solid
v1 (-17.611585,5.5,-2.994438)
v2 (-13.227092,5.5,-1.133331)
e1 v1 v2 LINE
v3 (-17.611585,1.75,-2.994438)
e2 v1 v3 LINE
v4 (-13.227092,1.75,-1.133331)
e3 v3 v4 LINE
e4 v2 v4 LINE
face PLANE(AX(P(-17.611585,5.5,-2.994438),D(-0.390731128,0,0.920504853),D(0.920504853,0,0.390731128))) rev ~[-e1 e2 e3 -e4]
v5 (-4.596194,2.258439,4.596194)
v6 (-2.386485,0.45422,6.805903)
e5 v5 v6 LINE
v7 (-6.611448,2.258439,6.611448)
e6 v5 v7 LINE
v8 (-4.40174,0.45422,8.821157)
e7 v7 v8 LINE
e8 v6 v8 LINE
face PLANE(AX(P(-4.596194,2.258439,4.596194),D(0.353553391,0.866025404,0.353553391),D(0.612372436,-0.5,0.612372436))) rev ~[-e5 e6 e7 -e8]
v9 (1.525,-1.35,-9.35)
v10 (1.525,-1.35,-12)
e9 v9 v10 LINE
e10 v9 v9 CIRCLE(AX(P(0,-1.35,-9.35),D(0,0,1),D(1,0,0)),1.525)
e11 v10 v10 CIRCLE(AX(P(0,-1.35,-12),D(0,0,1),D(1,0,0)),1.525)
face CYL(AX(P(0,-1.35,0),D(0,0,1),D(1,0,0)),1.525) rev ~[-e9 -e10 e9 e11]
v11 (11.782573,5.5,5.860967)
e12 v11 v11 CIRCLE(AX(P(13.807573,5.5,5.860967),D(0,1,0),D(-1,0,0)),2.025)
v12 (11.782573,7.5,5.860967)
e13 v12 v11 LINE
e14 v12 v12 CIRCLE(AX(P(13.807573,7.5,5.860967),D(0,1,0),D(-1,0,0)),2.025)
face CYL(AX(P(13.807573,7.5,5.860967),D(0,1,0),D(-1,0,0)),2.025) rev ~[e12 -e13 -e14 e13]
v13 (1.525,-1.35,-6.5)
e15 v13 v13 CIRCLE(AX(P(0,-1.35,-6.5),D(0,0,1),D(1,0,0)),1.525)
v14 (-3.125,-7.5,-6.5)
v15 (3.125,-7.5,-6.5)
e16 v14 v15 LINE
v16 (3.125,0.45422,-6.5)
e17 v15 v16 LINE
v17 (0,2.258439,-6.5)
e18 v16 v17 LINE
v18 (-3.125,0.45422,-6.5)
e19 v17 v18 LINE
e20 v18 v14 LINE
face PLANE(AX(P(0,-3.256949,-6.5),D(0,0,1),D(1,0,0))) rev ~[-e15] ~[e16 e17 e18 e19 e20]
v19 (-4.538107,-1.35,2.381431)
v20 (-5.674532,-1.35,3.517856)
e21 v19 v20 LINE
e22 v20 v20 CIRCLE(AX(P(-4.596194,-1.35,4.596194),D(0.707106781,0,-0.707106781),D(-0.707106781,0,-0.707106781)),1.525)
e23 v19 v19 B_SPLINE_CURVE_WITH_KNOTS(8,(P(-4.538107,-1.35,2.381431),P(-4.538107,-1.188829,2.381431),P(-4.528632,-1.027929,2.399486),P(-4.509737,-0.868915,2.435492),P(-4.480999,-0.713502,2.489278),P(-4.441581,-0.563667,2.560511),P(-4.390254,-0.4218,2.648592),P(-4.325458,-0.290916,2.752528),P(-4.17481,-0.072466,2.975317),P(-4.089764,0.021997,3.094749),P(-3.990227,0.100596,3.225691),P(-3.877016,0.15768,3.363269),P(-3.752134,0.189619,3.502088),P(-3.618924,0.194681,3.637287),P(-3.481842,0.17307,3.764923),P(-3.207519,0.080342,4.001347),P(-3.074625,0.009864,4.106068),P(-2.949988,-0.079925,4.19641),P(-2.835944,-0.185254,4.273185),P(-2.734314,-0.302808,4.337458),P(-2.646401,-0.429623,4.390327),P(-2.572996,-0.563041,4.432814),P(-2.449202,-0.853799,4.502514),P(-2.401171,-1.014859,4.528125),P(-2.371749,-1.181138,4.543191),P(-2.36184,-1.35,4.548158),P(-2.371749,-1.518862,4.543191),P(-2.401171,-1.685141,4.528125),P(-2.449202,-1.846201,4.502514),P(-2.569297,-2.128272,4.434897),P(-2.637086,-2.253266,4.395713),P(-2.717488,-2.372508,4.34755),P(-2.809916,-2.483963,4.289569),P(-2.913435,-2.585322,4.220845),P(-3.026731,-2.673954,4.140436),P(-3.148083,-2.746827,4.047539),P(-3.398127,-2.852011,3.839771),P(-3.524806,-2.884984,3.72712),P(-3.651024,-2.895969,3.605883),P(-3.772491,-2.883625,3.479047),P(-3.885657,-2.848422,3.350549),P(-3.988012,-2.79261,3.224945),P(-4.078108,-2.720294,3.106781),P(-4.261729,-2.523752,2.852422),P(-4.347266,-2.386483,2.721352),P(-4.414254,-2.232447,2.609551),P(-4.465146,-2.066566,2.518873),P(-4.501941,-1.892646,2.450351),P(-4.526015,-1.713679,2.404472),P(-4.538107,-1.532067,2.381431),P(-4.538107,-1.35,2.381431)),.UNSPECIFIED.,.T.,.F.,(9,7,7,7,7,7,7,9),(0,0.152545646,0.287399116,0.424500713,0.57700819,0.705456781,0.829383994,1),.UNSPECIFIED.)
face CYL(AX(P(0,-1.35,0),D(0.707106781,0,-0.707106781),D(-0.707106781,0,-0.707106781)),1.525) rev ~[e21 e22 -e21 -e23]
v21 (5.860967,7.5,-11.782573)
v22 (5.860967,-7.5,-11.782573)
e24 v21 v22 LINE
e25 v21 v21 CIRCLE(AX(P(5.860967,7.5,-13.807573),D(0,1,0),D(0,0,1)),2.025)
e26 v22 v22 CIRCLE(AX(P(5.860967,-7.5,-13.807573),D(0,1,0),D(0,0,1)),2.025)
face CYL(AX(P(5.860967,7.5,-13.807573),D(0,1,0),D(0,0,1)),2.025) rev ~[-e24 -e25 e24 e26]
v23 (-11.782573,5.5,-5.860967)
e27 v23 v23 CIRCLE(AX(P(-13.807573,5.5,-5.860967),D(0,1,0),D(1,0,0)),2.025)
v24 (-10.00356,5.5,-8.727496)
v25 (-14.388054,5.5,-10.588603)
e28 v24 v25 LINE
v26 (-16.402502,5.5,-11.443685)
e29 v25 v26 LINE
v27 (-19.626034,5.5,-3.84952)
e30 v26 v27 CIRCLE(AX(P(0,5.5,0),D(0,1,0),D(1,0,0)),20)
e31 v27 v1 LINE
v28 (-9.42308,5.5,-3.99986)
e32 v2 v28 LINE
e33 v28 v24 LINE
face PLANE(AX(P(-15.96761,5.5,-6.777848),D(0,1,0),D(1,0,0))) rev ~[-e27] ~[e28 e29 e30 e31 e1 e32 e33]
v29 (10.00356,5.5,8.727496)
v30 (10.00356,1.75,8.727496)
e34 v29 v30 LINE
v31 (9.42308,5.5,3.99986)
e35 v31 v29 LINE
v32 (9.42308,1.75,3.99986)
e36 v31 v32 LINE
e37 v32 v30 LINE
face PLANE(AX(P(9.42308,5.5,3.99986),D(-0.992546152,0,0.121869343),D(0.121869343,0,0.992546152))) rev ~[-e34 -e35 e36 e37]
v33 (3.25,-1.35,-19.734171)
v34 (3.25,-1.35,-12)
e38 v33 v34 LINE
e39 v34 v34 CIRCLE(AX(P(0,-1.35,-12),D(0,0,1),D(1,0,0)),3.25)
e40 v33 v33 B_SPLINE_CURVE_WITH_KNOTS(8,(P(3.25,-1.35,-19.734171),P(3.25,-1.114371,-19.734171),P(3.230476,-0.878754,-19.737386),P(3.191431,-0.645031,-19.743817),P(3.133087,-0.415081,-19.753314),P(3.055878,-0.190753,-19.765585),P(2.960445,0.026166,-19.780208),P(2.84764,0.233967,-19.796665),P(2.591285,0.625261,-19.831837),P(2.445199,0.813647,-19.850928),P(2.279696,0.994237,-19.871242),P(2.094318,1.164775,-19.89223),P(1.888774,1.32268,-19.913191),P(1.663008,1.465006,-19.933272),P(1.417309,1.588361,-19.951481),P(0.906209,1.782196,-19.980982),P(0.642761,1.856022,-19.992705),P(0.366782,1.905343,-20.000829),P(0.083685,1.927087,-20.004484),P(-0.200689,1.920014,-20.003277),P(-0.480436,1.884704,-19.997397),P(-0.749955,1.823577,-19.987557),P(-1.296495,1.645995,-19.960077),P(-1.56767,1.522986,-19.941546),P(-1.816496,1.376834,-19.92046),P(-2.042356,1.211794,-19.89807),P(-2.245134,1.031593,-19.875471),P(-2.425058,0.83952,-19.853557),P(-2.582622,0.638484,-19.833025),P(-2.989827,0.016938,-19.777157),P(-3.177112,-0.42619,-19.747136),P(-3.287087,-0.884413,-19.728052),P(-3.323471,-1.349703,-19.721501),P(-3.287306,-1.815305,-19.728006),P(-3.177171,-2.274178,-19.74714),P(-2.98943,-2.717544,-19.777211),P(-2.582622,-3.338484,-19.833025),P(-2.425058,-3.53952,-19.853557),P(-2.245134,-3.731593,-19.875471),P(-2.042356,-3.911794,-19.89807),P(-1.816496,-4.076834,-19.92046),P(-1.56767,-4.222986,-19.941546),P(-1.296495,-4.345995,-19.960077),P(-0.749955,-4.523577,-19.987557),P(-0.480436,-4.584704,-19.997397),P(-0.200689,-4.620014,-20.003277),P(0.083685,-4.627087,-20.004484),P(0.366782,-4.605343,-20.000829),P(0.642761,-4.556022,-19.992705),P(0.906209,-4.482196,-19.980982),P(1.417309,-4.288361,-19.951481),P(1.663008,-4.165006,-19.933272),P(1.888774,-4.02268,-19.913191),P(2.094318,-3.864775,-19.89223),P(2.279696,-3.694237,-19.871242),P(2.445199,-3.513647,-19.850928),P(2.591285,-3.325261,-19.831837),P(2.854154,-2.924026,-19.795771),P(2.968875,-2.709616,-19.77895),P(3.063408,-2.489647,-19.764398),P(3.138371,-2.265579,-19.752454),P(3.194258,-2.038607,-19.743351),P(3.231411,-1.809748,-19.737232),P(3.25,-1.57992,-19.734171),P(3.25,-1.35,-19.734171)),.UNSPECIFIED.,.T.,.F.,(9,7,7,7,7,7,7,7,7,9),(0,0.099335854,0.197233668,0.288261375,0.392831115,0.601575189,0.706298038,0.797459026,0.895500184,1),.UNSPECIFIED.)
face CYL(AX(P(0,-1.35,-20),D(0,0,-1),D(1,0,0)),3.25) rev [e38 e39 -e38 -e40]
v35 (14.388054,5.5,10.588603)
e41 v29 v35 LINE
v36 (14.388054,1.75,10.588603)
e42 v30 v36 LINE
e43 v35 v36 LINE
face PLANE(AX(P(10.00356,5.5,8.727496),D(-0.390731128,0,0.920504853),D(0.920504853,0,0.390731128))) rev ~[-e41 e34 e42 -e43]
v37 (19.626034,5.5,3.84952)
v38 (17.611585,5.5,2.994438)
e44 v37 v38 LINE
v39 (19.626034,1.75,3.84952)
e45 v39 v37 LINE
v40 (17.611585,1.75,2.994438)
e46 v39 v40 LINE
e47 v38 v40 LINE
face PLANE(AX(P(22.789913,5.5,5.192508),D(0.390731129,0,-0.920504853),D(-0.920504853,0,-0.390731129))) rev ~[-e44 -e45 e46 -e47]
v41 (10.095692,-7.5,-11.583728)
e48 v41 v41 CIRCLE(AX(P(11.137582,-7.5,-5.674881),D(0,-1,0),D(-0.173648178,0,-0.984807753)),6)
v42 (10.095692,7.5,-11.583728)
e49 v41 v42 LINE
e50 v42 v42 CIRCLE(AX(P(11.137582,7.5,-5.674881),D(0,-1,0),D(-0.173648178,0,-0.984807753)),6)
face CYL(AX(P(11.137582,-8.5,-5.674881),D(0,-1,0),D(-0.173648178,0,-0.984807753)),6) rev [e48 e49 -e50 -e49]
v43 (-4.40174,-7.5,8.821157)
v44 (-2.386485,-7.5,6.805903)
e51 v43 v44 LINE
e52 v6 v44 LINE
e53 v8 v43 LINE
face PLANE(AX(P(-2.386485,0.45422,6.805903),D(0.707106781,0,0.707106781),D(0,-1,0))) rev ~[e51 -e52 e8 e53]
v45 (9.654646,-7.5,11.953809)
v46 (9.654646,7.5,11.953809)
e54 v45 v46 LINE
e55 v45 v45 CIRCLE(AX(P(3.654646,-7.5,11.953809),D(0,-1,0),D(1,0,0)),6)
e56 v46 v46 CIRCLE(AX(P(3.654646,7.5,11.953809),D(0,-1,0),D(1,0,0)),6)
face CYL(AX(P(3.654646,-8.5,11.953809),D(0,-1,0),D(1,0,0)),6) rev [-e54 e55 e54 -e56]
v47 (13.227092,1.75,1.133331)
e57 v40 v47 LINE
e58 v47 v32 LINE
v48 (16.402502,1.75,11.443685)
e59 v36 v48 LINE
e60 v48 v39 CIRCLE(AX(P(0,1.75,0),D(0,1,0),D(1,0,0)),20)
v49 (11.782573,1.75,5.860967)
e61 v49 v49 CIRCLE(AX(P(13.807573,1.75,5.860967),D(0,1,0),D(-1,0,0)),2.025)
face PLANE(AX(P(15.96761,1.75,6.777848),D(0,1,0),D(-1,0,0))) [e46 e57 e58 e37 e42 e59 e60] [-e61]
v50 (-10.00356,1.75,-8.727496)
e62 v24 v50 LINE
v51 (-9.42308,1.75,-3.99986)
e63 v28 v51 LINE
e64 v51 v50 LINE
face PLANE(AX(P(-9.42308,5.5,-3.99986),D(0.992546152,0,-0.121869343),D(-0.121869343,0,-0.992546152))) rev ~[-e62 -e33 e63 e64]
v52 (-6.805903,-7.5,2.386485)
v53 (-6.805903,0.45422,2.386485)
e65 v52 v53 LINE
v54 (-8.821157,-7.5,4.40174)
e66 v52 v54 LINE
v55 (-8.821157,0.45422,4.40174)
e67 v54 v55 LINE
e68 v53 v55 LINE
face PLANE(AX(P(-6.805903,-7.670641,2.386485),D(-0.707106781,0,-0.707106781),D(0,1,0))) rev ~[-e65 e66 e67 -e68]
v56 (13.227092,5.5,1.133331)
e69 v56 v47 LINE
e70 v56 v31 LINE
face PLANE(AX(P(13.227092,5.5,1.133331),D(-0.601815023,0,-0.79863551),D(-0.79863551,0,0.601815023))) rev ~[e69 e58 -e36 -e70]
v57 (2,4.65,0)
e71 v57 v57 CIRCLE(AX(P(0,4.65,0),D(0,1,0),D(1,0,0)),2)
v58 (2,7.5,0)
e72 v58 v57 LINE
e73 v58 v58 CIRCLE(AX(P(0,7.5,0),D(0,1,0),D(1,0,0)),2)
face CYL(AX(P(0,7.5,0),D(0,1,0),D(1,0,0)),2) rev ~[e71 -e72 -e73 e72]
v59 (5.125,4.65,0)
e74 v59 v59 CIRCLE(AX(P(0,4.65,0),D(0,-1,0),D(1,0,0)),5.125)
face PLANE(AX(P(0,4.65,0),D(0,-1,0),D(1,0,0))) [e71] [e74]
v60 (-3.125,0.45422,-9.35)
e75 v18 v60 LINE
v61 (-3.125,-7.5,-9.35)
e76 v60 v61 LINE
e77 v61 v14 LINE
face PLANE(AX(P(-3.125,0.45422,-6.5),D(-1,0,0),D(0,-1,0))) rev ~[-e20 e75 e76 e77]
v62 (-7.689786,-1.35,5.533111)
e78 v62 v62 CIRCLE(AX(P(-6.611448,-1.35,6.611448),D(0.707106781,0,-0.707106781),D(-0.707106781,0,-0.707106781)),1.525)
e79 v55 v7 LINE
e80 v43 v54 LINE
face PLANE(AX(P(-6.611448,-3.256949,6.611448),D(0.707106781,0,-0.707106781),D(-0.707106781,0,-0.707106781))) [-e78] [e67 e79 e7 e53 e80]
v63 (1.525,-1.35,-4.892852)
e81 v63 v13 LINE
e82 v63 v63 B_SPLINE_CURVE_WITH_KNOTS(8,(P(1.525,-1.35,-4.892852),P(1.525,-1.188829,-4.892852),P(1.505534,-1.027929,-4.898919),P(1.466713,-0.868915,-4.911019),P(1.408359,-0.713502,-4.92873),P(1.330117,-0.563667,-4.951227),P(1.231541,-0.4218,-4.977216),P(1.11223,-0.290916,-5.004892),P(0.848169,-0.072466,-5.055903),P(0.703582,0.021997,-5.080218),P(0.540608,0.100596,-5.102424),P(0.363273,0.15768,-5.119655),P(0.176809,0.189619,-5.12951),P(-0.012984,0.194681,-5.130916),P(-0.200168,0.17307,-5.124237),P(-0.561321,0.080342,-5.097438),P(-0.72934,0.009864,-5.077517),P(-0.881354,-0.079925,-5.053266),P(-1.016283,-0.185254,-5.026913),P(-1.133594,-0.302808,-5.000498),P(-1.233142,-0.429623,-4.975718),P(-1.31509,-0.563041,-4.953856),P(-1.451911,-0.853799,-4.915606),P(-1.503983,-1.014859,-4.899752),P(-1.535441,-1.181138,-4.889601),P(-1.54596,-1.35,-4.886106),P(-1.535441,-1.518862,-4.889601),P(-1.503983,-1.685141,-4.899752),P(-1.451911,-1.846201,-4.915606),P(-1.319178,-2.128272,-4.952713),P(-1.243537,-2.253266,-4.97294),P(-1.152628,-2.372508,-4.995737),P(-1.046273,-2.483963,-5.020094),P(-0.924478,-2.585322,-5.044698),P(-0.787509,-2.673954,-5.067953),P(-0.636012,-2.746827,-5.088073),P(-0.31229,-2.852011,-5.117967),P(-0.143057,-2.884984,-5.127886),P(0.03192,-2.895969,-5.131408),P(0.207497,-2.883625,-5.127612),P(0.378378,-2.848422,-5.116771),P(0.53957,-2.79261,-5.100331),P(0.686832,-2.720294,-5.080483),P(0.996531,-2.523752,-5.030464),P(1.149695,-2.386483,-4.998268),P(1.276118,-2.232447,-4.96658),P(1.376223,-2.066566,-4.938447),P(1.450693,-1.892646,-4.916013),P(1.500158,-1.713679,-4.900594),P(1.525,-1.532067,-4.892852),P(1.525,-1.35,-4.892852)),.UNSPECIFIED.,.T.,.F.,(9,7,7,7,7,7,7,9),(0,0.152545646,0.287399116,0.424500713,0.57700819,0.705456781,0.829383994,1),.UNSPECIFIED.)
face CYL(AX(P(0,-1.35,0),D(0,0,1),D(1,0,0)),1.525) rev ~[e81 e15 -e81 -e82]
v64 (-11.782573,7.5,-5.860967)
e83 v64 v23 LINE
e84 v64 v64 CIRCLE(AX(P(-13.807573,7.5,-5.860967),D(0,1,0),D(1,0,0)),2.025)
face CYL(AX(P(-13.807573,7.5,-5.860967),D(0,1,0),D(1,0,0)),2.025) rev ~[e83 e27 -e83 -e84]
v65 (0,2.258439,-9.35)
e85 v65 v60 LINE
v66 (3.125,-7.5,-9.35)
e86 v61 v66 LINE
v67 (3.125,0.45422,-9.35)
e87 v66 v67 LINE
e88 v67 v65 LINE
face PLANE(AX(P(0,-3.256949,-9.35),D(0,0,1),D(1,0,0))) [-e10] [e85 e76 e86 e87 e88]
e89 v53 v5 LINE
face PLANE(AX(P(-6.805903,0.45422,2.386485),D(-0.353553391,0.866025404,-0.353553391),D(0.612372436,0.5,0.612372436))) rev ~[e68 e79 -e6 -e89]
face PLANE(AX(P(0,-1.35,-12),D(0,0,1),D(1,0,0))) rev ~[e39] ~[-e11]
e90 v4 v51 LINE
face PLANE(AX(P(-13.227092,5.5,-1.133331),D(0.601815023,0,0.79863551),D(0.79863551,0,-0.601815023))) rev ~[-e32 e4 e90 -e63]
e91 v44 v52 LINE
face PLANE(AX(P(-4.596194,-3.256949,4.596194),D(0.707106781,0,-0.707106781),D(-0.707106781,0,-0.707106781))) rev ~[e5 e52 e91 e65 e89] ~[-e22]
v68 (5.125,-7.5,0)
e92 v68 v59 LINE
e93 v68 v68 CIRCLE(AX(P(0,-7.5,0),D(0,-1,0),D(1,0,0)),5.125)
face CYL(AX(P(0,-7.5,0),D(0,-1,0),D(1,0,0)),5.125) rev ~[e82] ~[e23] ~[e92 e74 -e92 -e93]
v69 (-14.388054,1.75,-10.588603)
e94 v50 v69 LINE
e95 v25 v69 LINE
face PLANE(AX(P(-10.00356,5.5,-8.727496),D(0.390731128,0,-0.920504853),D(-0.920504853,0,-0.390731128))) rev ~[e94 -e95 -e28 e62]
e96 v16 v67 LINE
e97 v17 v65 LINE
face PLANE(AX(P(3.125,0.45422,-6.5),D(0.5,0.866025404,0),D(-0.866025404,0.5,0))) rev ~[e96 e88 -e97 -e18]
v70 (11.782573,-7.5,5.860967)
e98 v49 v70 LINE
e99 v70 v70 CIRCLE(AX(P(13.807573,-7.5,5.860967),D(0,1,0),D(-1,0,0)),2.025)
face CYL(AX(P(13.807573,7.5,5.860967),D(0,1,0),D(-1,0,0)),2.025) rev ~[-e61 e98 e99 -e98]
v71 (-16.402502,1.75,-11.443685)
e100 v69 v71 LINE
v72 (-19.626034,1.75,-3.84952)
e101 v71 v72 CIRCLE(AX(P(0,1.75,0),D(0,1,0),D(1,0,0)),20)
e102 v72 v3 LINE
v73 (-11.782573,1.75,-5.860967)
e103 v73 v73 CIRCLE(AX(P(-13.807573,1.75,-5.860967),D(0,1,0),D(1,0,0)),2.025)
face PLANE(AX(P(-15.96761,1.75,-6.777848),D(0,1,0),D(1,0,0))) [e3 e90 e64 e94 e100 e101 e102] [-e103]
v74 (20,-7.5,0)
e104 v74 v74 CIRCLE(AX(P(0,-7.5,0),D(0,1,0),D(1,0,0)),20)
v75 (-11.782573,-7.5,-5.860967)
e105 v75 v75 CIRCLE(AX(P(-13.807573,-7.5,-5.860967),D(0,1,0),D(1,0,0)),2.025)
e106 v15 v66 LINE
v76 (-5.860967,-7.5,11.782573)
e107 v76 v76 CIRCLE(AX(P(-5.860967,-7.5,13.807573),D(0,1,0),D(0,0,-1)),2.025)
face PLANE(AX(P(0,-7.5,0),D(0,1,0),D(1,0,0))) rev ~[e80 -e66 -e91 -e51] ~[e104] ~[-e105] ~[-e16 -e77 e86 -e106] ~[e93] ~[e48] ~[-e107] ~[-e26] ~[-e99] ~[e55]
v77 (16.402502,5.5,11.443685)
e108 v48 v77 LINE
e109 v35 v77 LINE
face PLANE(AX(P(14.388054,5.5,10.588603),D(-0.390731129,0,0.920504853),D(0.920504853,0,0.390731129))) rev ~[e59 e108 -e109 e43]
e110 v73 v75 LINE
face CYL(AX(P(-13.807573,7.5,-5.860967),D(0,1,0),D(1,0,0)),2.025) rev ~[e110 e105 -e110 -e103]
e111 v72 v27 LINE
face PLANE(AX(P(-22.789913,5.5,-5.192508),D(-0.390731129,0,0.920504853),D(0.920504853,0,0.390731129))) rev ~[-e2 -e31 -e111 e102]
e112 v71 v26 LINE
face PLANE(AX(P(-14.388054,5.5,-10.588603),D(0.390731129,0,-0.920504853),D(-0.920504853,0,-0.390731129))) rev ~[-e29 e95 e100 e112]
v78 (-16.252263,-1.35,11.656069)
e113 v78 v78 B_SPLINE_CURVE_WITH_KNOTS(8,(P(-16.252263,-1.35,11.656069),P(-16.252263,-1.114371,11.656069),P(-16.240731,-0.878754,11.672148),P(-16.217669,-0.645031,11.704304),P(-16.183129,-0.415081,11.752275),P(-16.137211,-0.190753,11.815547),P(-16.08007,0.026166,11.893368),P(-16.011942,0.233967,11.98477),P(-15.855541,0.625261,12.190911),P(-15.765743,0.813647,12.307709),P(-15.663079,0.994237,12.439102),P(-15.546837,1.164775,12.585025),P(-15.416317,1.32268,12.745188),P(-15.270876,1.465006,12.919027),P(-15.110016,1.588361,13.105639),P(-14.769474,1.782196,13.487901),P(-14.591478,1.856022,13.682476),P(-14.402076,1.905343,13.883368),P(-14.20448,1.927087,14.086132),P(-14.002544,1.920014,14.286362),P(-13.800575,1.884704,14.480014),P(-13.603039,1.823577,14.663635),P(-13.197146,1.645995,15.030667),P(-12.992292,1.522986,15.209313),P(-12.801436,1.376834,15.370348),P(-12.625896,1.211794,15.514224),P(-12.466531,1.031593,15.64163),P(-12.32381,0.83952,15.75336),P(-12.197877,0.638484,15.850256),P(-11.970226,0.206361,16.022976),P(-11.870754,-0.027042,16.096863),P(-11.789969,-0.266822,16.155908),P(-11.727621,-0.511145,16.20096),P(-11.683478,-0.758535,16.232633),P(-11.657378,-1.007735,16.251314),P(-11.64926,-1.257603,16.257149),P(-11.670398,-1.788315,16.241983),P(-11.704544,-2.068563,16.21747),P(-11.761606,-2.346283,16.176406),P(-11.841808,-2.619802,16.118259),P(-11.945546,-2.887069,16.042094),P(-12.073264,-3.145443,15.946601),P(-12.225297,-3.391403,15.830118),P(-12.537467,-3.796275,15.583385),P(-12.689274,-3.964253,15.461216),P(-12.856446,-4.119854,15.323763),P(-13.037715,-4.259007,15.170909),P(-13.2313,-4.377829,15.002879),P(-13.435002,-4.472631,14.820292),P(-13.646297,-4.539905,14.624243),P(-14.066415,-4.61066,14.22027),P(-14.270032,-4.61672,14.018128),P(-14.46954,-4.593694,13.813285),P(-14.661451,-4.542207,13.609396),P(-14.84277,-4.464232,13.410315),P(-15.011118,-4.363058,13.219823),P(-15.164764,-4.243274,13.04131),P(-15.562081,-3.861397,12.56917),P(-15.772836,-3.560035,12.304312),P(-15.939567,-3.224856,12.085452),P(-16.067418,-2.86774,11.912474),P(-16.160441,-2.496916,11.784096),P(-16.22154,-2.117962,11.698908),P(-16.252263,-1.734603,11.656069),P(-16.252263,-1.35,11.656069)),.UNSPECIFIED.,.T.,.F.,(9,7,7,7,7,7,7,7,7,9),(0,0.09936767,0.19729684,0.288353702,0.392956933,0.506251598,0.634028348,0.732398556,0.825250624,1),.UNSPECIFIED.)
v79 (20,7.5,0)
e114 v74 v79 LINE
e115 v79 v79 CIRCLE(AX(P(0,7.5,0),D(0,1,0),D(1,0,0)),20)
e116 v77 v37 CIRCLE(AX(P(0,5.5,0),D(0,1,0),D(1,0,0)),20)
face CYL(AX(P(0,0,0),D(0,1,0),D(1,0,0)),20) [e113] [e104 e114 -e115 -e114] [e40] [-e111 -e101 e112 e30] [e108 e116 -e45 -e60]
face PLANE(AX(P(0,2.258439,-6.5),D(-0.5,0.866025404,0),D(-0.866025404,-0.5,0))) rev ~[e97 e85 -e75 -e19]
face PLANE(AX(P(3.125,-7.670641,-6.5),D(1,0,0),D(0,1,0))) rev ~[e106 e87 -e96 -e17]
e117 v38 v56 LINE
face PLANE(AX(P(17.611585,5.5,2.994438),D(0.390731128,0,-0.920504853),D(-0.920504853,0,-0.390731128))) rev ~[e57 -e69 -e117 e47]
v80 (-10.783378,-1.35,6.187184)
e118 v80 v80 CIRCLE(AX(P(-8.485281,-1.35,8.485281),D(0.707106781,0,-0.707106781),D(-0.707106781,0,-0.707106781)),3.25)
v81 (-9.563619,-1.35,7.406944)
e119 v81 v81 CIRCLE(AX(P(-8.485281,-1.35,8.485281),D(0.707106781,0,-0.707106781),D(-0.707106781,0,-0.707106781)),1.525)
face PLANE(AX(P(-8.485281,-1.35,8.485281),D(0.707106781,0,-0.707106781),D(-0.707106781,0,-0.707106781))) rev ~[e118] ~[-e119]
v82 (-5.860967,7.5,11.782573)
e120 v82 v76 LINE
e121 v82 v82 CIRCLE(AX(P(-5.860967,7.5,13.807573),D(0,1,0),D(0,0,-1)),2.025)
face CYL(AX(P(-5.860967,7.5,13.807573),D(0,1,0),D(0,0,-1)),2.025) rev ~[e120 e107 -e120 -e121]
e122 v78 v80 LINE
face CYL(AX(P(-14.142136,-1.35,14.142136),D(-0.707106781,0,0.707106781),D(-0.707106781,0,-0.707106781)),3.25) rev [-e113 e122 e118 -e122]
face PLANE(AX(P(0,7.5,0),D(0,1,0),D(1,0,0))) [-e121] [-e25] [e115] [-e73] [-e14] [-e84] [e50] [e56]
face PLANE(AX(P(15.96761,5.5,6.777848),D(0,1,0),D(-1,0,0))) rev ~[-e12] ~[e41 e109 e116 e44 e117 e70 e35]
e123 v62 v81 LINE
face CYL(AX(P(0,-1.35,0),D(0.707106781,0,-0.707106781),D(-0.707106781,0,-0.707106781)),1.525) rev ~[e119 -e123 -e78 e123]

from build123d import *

# Parameters (mm, degrees)
SKETCH1_R               = 20
BOSS_EXTRUDE1_DEPTH     = 7.5
SKETCH4_R               = 5.125
CUT_EXTRUDE2_DEPTH      = 12.15
SKETCH5_R               = 2
CUT_EXTRUDE3_DEPTH      = 1
CUT_EXTRUDE3_DEPTH_BACK = 16
SKETCH2_R               = 2.025
CUT_EXTRUDE1_DEPTH      = 16
CIRPATTERN1_COUNT       = 4
SKETCH6_R               = 1.525
CUT_EXTRUDE4_DEPTH      = 21
CUT_EXTRUDE5_START      = -20
SKETCH7_R               = 3.25
CUT_EXTRUDE5_DEPTH      = 8
CUT_EXTRUDE11_START     = -6.5
CUT_EXTRUDE11_DEPTH     = 2.85
CIRPATTERN2_COUNT       = 2
CIRPATTERN2_ANGLE       = 135
CUT_EXTRUDE7_START      = 5.5
CUT_EXTRUDE7_DEPTH      = 3.75
CIRPATTERN3_COUNT       = 2
CUT_EXTRUDE12_START     = -16.0000001
SKETCH10_R              = 6
CUT_EXTRUDE12_DEPTH     = 17.0000002
CIRPATTERN4_COUNT       = 2
CIRPATTERN4_ANGLE       = 100


with BuildPart() as part:
    # Sketch1 → Boss-Extrude1 (new body, symmetric)
    with BuildSketch(Plane(origin=(0, 0, 0), x_dir=(1, 0, 0), z_dir=(0, 1, 0))):
        Circle(SKETCH1_R)
    extrude(amount=BOSS_EXTRUDE1_DEPTH, both=True)

    # Sketch4 → Cut-Extrude2 (cut)
    with BuildSketch(Plane.XZ.offset(7.5)):
        Circle(SKETCH4_R)
    extrude(amount=-CUT_EXTRUDE2_DEPTH, mode=Mode.SUBTRACT)

    # Sketch5 → Cut-Extrude3 (cut, two sides)
    with BuildSketch(Plane(origin=(0, 7.5, 0), x_dir=(1, 0, 0), z_dir=(0, 1, 0))) as cut_extrude3_sk:
        Circle(SKETCH5_R)
    extrude(amount=CUT_EXTRUDE3_DEPTH, mode=Mode.SUBTRACT)
    extrude(cut_extrude3_sk.sketch, amount=-CUT_EXTRUDE3_DEPTH_BACK, mode=Mode.SUBTRACT)

    # Sketch2 → Cut-Extrude1 (cut, through all)
    with BuildSketch(Plane(origin=(0, 7.5, 0), x_dir=(1, 0, 0), z_dir=(0, 1, 0))):
        with Locations((-13.807572802, 5.860966927)):
            Circle(SKETCH2_R)
    cut_extrude1 = extrude(amount=-CUT_EXTRUDE1_DEPTH, mode=Mode.SUBTRACT)

    # CirPattern1: Cut-Extrude1 ×4 about axis
    cirpattern1_axis = Axis((0, 0, 0), (0, 1, 0))
    for i in range(1, CIRPATTERN1_COUNT):
        add(cut_extrude1.rotate(cirpattern1_axis, i * 360 / CIRPATTERN1_COUNT), mode=Mode.SUBTRACT)

    # Sketch6 → Cut-Extrude4 (cut, through all)
    with BuildSketch(Plane.XY):
        with Locations((0, -1.35)):
            Circle(SKETCH6_R)
    cut_extrude4 = extrude(amount=-CUT_EXTRUDE4_DEPTH, mode=Mode.SUBTRACT)

    # Sketch7 → Cut-Extrude5 (cut)
    with BuildSketch(Plane.XY.offset(CUT_EXTRUDE5_START)):
        with Locations((0, -1.35)):
            Circle(SKETCH7_R)
    cut_extrude5 = extrude(amount=CUT_EXTRUDE5_DEPTH, mode=Mode.SUBTRACT)

    # Sketch9 → Cut-Extrude11 (cut)
    with BuildSketch(Plane.XY.offset(CUT_EXTRUDE11_START)):
        Polygon((3.125, -3.154219591), (3.125, 0.454219591), (0, 2.258439182), (-3.125, 0.454219591), (-3.125, -3.154219591), (-3.125, -7.670640979), (3.125, -7.670640979), align=None)
    cut_extrude11 = extrude(amount=-CUT_EXTRUDE11_DEPTH, mode=Mode.SUBTRACT)

    # CirPattern2: Cut-Extrude4, Cut-Extrude5, Cut-Extrude11 ×2 about axis
    cirpattern2_axis = Axis((0, 0, 0), (0, 1, 0))
    for i in range(1, CIRPATTERN2_COUNT):
        add(cut_extrude4.rotate(cirpattern2_axis, i * CIRPATTERN2_ANGLE / (CIRPATTERN2_COUNT - 1)), mode=Mode.SUBTRACT)
        add(cut_extrude5.rotate(cirpattern2_axis, i * CIRPATTERN2_ANGLE / (CIRPATTERN2_COUNT - 1)), mode=Mode.SUBTRACT)
        add(cut_extrude11.rotate(cirpattern2_axis, i * CIRPATTERN2_ANGLE / (CIRPATTERN2_COUNT - 1)), mode=Mode.SUBTRACT)

    # Sketch8 → Cut-Extrude7 (cut)
    with BuildSketch(Plane(origin=(0, 0, 0), x_dir=(1, 0, 0), z_dir=(0, 1, 0)).offset(CUT_EXTRUDE7_START)):
        Polygon((-9.423079571, 3.999859969), (-10.003560281, 8.727495969), (-14.388053512, 10.588602927), (-19.566381078, 12.786672569), (-22.789912888, 5.192507528), (-17.611585322, 2.994437886), (-13.227092091, 1.133330928), align=None)
    cut_extrude7 = extrude(amount=-CUT_EXTRUDE7_DEPTH, mode=Mode.SUBTRACT)

    # CirPattern3: Cut-Extrude7 ×2 about axis
    cirpattern3_axis = Axis((0, 0, 0), (0, 1, 0))
    for i in range(1, CIRPATTERN3_COUNT):
        add(cut_extrude7.rotate(cirpattern3_axis, i * 360 / CIRPATTERN3_COUNT), mode=Mode.SUBTRACT)

    # Sketch10 → Cut-Extrude12 (cut)
    with BuildSketch(Plane(origin=(0, 7.5, 0), x_dir=(1, 0, 0), z_dir=(0, 1, 0)).offset(CUT_EXTRUDE12_START)):
        with Locations((3.654646309, -11.95380945)):
            Circle(SKETCH10_R)
    cut_extrude12 = extrude(amount=CUT_EXTRUDE12_DEPTH, mode=Mode.SUBTRACT)

    # CirPattern4: Cut-Extrude12 ×2 about axis
    cirpattern4_axis = Axis((0, 7.5, 0), (0, 1, 0))
    for i in range(1, CIRPATTERN4_COUNT):
        add(cut_extrude12.rotate(cirpattern4_axis, i * CIRPATTERN4_ANGLE / (CIRPATTERN4_COUNT - 1)), mode=Mode.SUBTRACT)


solid = part.part
